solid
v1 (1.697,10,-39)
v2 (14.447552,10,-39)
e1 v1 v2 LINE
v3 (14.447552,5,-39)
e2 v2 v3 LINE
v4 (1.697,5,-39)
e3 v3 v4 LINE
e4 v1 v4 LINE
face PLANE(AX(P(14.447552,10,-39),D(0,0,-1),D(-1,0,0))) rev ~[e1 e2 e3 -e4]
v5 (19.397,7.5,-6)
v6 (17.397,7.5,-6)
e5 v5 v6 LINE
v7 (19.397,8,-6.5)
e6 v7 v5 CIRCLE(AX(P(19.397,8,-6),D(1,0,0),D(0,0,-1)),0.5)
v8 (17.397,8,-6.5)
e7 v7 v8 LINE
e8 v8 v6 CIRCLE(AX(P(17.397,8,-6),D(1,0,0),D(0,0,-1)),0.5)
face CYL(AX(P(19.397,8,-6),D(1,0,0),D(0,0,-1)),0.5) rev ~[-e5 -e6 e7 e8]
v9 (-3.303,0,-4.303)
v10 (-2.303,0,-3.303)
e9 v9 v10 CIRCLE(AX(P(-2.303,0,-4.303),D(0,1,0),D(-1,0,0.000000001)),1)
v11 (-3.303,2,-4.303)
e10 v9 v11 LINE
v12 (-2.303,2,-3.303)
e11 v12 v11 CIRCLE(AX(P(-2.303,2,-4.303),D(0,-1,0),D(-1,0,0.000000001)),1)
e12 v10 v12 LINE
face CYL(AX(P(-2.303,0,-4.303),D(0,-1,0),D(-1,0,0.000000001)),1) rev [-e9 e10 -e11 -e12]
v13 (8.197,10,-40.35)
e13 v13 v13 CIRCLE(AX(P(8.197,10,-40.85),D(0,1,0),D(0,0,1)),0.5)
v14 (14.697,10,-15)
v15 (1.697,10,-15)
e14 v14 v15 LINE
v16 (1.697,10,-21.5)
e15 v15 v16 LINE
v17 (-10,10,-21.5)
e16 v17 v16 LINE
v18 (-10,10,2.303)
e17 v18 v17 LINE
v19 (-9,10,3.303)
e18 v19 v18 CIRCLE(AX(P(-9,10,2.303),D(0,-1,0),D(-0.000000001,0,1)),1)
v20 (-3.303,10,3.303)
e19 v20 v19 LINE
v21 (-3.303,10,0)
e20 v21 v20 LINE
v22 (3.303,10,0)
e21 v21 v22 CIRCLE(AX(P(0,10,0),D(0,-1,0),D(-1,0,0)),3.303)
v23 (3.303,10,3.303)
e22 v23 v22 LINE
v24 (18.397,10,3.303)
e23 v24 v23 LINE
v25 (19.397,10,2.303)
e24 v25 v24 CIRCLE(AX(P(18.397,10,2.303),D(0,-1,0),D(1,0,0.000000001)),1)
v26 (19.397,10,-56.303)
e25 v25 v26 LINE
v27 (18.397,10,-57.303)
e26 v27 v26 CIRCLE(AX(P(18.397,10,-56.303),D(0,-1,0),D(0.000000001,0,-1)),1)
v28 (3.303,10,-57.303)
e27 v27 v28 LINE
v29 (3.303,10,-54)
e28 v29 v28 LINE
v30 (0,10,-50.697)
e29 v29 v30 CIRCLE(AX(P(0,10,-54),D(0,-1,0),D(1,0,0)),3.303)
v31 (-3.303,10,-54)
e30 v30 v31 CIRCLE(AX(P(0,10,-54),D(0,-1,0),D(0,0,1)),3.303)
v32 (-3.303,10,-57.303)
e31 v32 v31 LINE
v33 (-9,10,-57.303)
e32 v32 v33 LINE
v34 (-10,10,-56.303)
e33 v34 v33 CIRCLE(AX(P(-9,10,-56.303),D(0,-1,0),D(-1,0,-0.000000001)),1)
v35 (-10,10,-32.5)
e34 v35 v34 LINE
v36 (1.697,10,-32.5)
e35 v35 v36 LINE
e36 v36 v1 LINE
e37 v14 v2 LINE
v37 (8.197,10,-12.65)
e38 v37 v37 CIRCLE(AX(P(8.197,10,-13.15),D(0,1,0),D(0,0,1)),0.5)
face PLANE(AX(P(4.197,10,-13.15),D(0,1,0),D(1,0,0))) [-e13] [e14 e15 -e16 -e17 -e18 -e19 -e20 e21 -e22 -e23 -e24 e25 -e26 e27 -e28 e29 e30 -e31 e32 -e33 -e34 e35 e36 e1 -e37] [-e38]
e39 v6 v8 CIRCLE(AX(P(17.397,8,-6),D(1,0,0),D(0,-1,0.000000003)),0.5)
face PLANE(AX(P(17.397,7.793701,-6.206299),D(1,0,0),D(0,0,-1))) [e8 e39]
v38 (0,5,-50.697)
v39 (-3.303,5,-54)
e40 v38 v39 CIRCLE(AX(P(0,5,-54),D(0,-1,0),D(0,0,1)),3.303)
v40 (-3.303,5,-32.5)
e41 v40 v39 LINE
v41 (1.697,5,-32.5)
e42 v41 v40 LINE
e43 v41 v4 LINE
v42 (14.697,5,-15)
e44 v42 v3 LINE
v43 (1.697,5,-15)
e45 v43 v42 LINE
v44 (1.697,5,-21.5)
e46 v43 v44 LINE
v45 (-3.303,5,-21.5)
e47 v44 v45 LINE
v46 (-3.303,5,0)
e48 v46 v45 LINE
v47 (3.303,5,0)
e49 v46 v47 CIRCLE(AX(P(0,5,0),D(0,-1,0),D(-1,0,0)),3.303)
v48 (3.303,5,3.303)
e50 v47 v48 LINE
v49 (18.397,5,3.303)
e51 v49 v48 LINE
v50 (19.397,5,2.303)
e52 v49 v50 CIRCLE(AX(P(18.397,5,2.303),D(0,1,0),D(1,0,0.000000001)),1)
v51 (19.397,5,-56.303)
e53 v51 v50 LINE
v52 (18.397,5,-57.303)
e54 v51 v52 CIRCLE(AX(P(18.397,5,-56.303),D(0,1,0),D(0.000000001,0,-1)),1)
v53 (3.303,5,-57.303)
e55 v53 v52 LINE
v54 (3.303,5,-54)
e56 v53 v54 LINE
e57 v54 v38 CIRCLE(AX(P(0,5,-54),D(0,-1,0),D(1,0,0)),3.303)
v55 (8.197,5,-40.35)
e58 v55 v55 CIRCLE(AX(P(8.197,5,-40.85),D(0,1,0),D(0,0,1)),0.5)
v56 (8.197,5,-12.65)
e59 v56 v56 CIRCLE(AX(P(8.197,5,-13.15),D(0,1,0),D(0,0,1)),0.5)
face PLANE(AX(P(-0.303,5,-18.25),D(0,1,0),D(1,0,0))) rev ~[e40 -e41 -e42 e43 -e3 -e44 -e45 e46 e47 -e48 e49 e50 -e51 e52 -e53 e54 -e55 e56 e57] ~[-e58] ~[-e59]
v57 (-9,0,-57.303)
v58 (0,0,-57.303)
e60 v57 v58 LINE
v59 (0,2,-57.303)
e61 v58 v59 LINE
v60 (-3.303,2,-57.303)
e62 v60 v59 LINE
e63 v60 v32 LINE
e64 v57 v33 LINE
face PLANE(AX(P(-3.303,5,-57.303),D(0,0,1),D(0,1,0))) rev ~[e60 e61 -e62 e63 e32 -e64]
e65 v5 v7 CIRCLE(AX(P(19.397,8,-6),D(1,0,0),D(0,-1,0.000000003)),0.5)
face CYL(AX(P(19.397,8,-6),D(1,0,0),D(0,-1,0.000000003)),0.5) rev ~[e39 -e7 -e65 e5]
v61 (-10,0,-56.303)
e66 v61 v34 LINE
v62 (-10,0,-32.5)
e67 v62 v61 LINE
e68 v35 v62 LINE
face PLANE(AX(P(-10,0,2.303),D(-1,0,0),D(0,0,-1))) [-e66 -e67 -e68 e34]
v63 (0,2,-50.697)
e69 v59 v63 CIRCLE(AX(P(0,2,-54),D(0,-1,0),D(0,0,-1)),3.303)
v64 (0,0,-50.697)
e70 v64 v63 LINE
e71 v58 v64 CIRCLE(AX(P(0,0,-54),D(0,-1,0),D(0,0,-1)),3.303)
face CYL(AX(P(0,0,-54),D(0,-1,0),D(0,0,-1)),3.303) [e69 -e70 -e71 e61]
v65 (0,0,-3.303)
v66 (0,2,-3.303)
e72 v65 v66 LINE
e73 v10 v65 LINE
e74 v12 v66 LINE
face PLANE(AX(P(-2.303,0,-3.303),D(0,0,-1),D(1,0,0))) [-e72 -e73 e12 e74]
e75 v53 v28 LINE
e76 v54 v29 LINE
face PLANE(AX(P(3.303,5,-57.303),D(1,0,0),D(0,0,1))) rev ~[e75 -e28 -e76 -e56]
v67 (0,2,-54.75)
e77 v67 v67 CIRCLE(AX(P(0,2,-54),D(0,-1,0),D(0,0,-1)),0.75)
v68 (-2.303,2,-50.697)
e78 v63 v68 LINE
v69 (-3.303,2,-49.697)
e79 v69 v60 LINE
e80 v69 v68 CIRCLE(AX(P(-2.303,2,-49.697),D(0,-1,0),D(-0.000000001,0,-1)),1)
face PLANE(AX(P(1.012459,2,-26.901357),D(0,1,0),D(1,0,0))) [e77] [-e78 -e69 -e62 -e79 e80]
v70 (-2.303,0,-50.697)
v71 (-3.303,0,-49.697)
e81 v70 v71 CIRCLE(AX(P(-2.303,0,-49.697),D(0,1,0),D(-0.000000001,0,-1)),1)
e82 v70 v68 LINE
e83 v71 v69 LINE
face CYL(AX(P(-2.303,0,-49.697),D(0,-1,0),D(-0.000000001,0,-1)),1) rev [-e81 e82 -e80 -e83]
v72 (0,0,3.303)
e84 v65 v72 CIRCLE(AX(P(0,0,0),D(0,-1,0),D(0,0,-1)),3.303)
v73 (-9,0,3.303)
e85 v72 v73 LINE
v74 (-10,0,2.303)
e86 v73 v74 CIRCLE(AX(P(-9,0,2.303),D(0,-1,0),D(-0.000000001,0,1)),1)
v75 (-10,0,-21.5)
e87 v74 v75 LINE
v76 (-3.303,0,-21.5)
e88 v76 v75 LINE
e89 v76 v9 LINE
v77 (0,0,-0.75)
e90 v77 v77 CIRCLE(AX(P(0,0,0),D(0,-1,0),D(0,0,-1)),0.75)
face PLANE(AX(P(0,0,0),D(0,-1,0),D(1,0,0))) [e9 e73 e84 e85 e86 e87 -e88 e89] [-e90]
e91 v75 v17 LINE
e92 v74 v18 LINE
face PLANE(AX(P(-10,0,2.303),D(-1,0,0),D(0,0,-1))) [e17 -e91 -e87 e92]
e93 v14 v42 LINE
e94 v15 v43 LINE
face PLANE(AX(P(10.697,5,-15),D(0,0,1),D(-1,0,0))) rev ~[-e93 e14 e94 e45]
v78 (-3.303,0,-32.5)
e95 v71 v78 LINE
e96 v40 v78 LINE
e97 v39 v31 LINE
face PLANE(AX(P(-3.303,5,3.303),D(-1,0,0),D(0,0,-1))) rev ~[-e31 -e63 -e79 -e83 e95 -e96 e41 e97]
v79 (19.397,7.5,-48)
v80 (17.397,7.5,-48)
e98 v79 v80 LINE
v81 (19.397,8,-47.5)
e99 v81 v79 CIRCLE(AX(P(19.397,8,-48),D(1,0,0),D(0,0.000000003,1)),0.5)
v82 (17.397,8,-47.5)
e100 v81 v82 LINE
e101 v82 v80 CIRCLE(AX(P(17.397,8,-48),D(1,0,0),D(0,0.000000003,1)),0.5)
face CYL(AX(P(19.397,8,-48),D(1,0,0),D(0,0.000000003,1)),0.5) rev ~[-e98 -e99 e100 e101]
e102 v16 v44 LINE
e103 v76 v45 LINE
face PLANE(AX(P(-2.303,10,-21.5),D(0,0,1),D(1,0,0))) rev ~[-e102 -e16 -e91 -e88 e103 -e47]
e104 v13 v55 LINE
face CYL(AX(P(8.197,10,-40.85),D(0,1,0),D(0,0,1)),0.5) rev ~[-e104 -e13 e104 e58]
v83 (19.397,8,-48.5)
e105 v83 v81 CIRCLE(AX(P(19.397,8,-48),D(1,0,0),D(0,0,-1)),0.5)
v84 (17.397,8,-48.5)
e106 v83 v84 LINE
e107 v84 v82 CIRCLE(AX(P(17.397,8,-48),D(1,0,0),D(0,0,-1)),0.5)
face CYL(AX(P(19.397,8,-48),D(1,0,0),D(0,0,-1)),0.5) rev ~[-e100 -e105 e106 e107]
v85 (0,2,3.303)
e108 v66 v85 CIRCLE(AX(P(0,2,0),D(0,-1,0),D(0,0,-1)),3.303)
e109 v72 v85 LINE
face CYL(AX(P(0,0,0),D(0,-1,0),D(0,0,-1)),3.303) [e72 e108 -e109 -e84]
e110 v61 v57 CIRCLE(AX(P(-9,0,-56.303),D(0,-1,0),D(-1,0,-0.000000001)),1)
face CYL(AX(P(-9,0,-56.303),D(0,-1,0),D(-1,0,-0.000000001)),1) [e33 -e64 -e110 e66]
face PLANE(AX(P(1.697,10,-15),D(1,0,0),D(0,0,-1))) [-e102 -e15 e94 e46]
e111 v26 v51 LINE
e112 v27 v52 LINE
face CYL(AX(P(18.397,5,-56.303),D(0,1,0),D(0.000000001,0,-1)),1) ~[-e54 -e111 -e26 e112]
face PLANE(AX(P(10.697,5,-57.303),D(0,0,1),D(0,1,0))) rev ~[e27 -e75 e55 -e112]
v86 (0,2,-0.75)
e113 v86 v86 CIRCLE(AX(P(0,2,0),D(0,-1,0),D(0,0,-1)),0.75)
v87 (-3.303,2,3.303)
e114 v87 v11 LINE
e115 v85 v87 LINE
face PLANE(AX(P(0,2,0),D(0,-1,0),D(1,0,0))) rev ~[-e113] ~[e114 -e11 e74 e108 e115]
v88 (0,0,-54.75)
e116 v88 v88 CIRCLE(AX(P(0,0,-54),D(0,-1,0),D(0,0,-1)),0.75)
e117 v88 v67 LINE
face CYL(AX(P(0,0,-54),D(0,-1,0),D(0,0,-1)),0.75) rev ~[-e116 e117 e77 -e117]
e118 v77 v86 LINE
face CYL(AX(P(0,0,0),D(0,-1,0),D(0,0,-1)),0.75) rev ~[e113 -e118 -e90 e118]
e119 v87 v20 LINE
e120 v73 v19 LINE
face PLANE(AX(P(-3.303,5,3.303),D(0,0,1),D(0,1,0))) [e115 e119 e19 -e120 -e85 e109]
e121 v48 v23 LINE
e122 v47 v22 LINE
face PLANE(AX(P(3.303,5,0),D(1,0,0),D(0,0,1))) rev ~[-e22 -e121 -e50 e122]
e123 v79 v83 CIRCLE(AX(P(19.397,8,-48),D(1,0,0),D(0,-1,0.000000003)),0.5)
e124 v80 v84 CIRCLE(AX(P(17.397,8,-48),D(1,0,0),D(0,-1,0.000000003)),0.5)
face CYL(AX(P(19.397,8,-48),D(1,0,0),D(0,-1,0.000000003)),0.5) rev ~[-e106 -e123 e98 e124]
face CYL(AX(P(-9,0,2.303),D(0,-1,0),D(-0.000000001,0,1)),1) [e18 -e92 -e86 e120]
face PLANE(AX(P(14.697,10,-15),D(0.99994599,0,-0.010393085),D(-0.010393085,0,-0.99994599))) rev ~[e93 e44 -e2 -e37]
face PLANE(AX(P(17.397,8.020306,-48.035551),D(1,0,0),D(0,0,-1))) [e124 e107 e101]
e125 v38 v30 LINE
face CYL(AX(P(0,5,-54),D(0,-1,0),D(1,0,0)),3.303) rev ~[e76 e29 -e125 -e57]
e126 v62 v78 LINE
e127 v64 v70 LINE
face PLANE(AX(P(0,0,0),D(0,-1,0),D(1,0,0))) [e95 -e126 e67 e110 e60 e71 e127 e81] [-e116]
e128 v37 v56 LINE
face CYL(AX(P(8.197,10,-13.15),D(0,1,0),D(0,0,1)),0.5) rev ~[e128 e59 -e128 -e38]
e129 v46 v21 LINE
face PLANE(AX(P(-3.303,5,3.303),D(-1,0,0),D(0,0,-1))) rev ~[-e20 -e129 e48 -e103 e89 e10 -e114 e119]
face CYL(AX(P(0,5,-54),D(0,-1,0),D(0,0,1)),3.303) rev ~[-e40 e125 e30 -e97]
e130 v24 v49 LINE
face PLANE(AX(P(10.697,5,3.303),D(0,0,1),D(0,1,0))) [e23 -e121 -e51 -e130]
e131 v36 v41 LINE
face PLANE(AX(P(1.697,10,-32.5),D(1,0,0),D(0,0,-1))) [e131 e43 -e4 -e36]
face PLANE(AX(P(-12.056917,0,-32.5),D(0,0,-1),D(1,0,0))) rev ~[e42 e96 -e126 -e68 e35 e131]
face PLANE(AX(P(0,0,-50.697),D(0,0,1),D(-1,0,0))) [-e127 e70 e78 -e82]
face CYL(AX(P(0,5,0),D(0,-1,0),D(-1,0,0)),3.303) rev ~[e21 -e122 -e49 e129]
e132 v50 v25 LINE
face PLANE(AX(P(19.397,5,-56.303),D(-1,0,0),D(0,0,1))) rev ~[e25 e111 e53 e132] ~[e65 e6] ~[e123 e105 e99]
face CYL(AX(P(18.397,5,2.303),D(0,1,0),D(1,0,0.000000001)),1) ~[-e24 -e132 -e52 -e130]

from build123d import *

# Parameters (mm, degrees)
SKETCH_1_R           = 1.5
EXTRUDE_1_DEPTH      = 10
SKETCH_2_W           = 8.63091869
SKETCH_2_H           = 65.296694921
CUT_EXTRUDE_1_DEPTH  = 8
SKETCH_3_W           = 60.606
SKETCH_3_H           = 5
EXTRUDE_2_DEPTH      = 15
CUT_EXTRUDE_2_DEPTH  = 15
CUT_EXTRUDE_3_DEPTH  = 15
SKETCH_7_W           = 6.5
SKETCH_7_H           = 12
CUT_EXTRUDE_4_DEPTH  = 15
EXTRUDE_3_DEPTH      = 7.7
EXTRUDE_3_DEPTH_BACK = 1
SKETCH_8_W           = 60.606
SKETCH_8_H           = 5
CUT_EXTRUDE_5_DEPTH  = 7.7
EXTRUDE_4_DEPTH      = 16
SKETCH_13_R          = 1.5
CUT_EXTRUDE_6_DEPTH  = 10.5
CUT_EXTRUDE_7_DEPTH  = 2
SKETCH_17_W          = 16.187708769
SKETCH_17_H          = 64.99365071
CUT_EXTRUDE_8_DEPTH  = 16
SKETCH_18_R          = 1.5
SKETCH_18_R_2        = 0.5
EXTRUDE_5_DEPTH      = 5
SKETCH_19_R          = 1.5
SKETCH_19_R_2        = 0.75
EXTRUDE_6_DEPTH      = 2
SKETCH_20_W          = 6.697
SKETCH_20_H          = 11
SKETCH_20_W_2        = 2.056917385
CUT_EXTRUDE_9_DEPTH  = 15
CUT_EXTRUDE_10_DEPTH = 10
SKETCH_22_W          = 4
SKETCH_22_H          = 6.5
EXTRUDE_7_DEPTH      = 5
SKETCH_23_R          = 0.5
CUT_EXTRUDE_11_DEPTH = 5
SKETCH_24_R          = 0.5
EXTRUDE_8_DEPTH      = 5


with BuildPart() as part:
    # 草图1 → 凸台-拉伸1 (new body)
    with BuildSketch(Plane(origin=(0, 0, 0), x_dir=(1, 0, 0), z_dir=(0, 1, 0))):
        with BuildLine():
            Line((0, 50.697), (-2.303, 50.697))
            ThreePointArc((-2.303, 50.697), (-3.010106781, 50.404106781), (-3.303, 49.697))
            Line((-3.303, 49.697), (-3.303, 4.303))
            ThreePointArc((-3.303, 4.303), (-3.010106781, 3.595893219), (-2.303, 3.303))
            Line((-2.303, 3.303), (0, 3.303))
            ThreePointArc((0, 3.303), (3.303, 0), (0, -3.303))
            Line((0, -3.303), (-9, -3.303))
            ThreePointArc((-9, -3.303), (-9.707106781, -3.010106781), (-10, -2.303))
            Line((-10, -2.303), (-10, 56.303))
            ThreePointArc((-10, 56.303), (-9.707106781, 57.010106781), (-9, 57.303))
            Line((-9, 57.303), (0, 57.303))
            ThreePointArc((0, 57.303), (3.303, 54), (0, 50.697))
        make_face()
        with Locations(Location((0, 0, 0), (0, 0, 270))):
            Circle(SKETCH_1_R, mode=Mode.SUBTRACT)
        with Locations(Location((0, 54, 0), (0, 0, 270))):
            Circle(SKETCH_1_R, mode=Mode.SUBTRACT)
    extrude(amount=EXTRUDE_1_DEPTH)

    # 草图2 → 切除-拉伸1 (cut)
    with BuildSketch(Plane(origin=(0, 10, 0), x_dir=(1, 0, 0), z_dir=(0, 1, 0))):
        with Locations((1.012459345, 26.901356544)):
            Rectangle(SKETCH_2_W, SKETCH_2_H)
    extrude(amount=-CUT_EXTRUDE_1_DEPTH, mode=Mode.SUBTRACT)

    # 草图3 → 凸台-拉伸2 (add)
    with BuildSketch(Plane(origin=(-3.303, 0, 0), x_dir=(0, 0, -1), z_dir=(1, 0, 0))):
        with Locations((27, 7.5)):
            Rectangle(SKETCH_3_W, SKETCH_3_H)
    extrude(amount=EXTRUDE_2_DEPTH)

    # 草图4 → 切除-拉伸2 (cut)
    with BuildSketch(Plane(origin=(0, 10, 0), x_dir=(1, 0, 0), z_dir=(0, 1, 0))):
        with BuildLine():
            ThreePointArc((10.697, 57.303), (11.404106781, 57.010106781), (11.697, 56.303))
            Line((11.697, 56.303), (11.697, 57.303))
            Line((11.697, 57.303), (10.697, 57.303))
        make_face()
        with BuildLine():
            ThreePointArc((11.697, -2.303), (11.404106781, -3.010106781), (10.697, -3.303))
            Line((10.697, -3.303), (11.697, -3.303))
            Line((11.697, -3.303), (11.697, -2.303))
        make_face()
    extrude(amount=-CUT_EXTRUDE_2_DEPTH, mode=Mode.SUBTRACT)

    # 草图5 → 切除-拉伸3 (cut)
    with BuildSketch(Plane.XZ.offset(-5)):
        with BuildLine():
            Line((-3.303, 3.303), (-3.303, 0))
            ThreePointArc((-3.303, 0), (0, -3.303), (3.303, 0))
            ThreePointArc((3.303, 0), (2.335573698, 2.335573698), (0, 3.303))
            Line((0, 3.303), (-3.303, 3.303))
        make_face()
        with BuildLine():
            ThreePointArc((0, 3.303), (2.335573698, 2.335573698), (3.303, 0))
            Line((3.303, 0), (3.303, 3.303))
            Line((3.303, 3.303), (0, 3.303))
        make_face()
        with BuildLine():
            ThreePointArc((0, -50.697), (-2.335573698, -51.664426302), (-3.303, -54))
            Line((-3.303, -54), (-3.303, -57.303))
            Line((-3.303, -57.303), (0, -57.303))
            ThreePointArc((0, -57.303), (2.335573698, -56.335573698), (3.303, -54))
            ThreePointArc((3.303, -54), (2.335573698, -51.664426302), (0, -50.697))
        make_face()
        with BuildLine():
            ThreePointArc((3.303, -54), (2.335573698, -56.335573698), (0, -57.303))
            Line((0, -57.303), (3.303, -57.303))
            Line((3.303, -57.303), (3.303, -54))
        make_face()
    extrude(amount=-CUT_EXTRUDE_3_DEPTH, mode=Mode.SUBTRACT)

    # 草图7 → 切除-拉伸4 (cut)
    with BuildSketch(Plane(origin=(0, 5, 0), x_dir=(-1, 0, 0), z_dir=(0, -1, 0))):
        with Locations((-0.947, 33)):
            Rectangle(SKETCH_7_W, SKETCH_7_H)
        Polygon((-4.197, 27), (-4.197, 39), (-10.697, 39), (-10.697, 15), (2.303, 15), (2.303, 27), align=None)
    extrude(amount=-CUT_EXTRUDE_4_DEPTH, mode=Mode.SUBTRACT)

    # 草图8 → 凸台-拉伸3 (add, two sides: drawn at the far end of the back side and taken through both)
    with BuildSketch(Plane(origin=(11.697, 0, 0), x_dir=(0, 0, -1), z_dir=(1, 0, 0)).offset(-EXTRUDE_3_DEPTH_BACK)):
        with Locations((27, 7.5)):
            Rectangle(SKETCH_8_W, SKETCH_8_H)
    extrude(amount=EXTRUDE_3_DEPTH + EXTRUDE_3_DEPTH_BACK)

    # 草图10 → 切除-拉伸5 (cut)
    with BuildSketch(Plane(origin=(0, 10, 0), x_dir=(1, 0, 0), z_dir=(0, 1, 0))):
        with BuildLine():
            ThreePointArc((18.397, 57.303), (19.104106781, 57.010106781), (19.397, 56.303))
            Line((19.397, 56.303), (19.397, 57.303))
            Line((19.397, 57.303), (18.397, 57.303))
        make_face()
        with BuildLine():
            ThreePointArc((19.397, -2.303), (19.104106781, -3.010106781), (18.397, -3.303))
            Line((18.397, -3.303), (19.397, -3.303))
            Line((19.397, -3.303), (19.397, -2.303))
        make_face()
    extrude(amount=-CUT_EXTRUDE_5_DEPTH, mode=Mode.SUBTRACT)

    # 草图12 → 凸台-拉伸4 (add)
    with BuildSketch(Plane.XZ.offset(-5)):
        with BuildLine():
            Line((17.397, 2.303), (17.397, -56.303))
            ThreePointArc((17.397, -56.303), (17.689893219, -57.010106781), (18.397, -57.303))
            ThreePointArc((18.397, -57.303), (19.104106781, -57.010106781), (19.397, -56.303))
            Line((19.397, -56.303), (19.397, 2.303))
            ThreePointArc((19.397, 2.303), (19.104106781, 3.010106781), (18.397, 3.303))
            ThreePointArc((18.397, 3.303), (17.689893219, 3.010106781), (17.397, 2.303))
        make_face()
    extrude(amount=EXTRUDE_4_DEPTH)

    # 草图13 → 切除-拉伸6 (cut)
    with BuildSketch(Plane(origin=(0, 10, 0), x_dir=(1, 0, 0), z_dir=(0, 1, 0))):
        with Locations(Location((4.197, 13.15, 0), (0, 0, 270))):
            Circle(SKETCH_13_R)
        with Locations(Location((4.197, 40.85, 0), (0, 0, 270))):
            Circle(SKETCH_13_R)
    extrude(amount=-CUT_EXTRUDE_6_DEPTH, mode=Mode.SUBTRACT)

    # 草图16 → 切除-拉伸7 (cut)
    with BuildSketch(Plane(origin=(19.397, 0, 0), x_dir=(0, 0, -1), z_dir=(1, 0, 0))):
        with BuildLine():
            ThreePointArc((6, 7.5), (6.353553391, 7.646446609), (6.5, 8))
            Line((6.5, 8), (6, 8))
            Line((6, 8), (6, 7.5))
        make_face()
        with BuildLine():
            Line((6, 8), (6.5, 8))
            ThreePointArc((6.5, 8), (5.646446609, 8.353553391), (6, 7.5))
            Line((6, 7.5), (6, 8))
        make_face()
        with BuildLine():
            ThreePointArc((6, -8.5), (5.646446609, -9.353553391), (6.5, -9))
            Line((6.5, -9), (6, -9))
            Line((6, -9), (6, -8.5))
        make_face()
        with BuildLine():
            Line((6, -9), (6.5, -9))
            ThreePointArc((6.5, -9), (6.353553391, -8.646446609), (6, -8.5))
            Line((6, -8.5), (6, -9))
        make_face()
        with BuildLine():
            ThreePointArc((48, -8.5), (47.646446609, -8.646446609), (47.5, -9))
            Line((47.5, -9), (48, -9))
            Line((48, -9), (48, -8.5))
        make_face()
        with BuildLine():
            Line((48, -9), (47.5, -9))
            ThreePointArc((47.5, -9), (48, -9.5), (48.5, -9))
            ThreePointArc((48.5, -9), (48.353553391, -8.646446609), (48, -8.5))
            Line((48, -8.5), (48, -9))
        make_face()
        with BuildLine():
            ThreePointArc((48.5, 8), (48, 8.5), (47.5, 8))
            Line((47.5, 8), (48, 8))
            Line((48, 8), (48, 7.5))
            ThreePointArc((48, 7.5), (48.353553391, 7.646446609), (48.5, 8))
        make_face()
        with BuildLine():
            Line((48, 8), (47.5, 8))
            ThreePointArc((47.5, 8), (47.646446609, 7.646446609), (48, 7.5))
            Line((48, 7.5), (48, 8))
        make_face()
    extrude(amount=-CUT_EXTRUDE_7_DEPTH, mode=Mode.SUBTRACT)

    # 草图17 → 切除-拉伸8 (cut)
    with BuildSketch(Plane.XZ.offset(11)):
        with Locations((22.196549454, -27.767960921)):
            Rectangle(SKETCH_17_W, SKETCH_17_H)
    extrude(amount=-CUT_EXTRUDE_8_DEPTH, mode=Mode.SUBTRACT)

    # 草图18 → 凸台-拉伸5 (add)
    # profile 1 of 2: a face of its own
    with BuildSketch(Plane(origin=(0, 10, 0), x_dir=(1, 0, 0), z_dir=(0, 1, 0))):
        with Locations((4.197, 13.15)):
            Circle(SKETCH_18_R)
        with Locations(Location((4.197, 13.15, 0), (0, 0, 270))):
            Circle(SKETCH_18_R_2, mode=Mode.SUBTRACT)
    # profile 2 of 2: a face of its own
    with BuildSketch(Plane(origin=(0, 10, 0), x_dir=(1, 0, 0), z_dir=(0, 1, 0))):
        with Locations((4.197, 40.85)):
            Circle(SKETCH_18_R)
        with Locations(Location((4.197, 40.85, 0), (0, 0, 270))):
            Circle(SKETCH_18_R_2, mode=Mode.SUBTRACT)
    extrude(amount=-EXTRUDE_5_DEPTH)

    # 草图19 → 凸台-拉伸6 (add)
    # profile 1 of 2: a face of its own
    with BuildSketch(Plane.XZ):
        Circle(SKETCH_19_R)
        with Locations(Location((0, 0, 0), (0, 0, 270))):
            Circle(SKETCH_19_R_2, mode=Mode.SUBTRACT)
    # profile 2 of 2: a face of its own
    with BuildSketch(Plane.XZ):
        with Locations((0, -54)):
            Circle(SKETCH_19_R)
        with Locations(Location((0, -54, 0), (0, 0, 270))):
            Circle(SKETCH_19_R_2, mode=Mode.SUBTRACT)
    extrude(amount=-EXTRUDE_6_DEPTH)

    # 草图20 → 切除-拉伸9 (cut)
    with BuildSketch(Plane(origin=(0, 0, 0), x_dir=(-1, 0, 0), z_dir=(0, -1, 0))):
        with Locations((6.6515, 27)):
            Rectangle(SKETCH_20_W, SKETCH_20_H)
        Polygon((3.303, 32.5), (0, 32.5), (0, 27), (0, 21.5), (3.303, 21.5), align=None)
        with Locations((11.028458692, 27)):
            Rectangle(SKETCH_20_W_2, SKETCH_20_H)
    extrude(amount=-CUT_EXTRUDE_9_DEPTH, mode=Mode.SUBTRACT)

    # 草图21 → 切除-拉伸10 (cut)
    with BuildSketch(Plane(origin=(0, 10, 0), x_dir=(1, 0, 0), z_dir=(0, 1, 0))):
        Polygon((10.697, 15), (14.697, 15), (14.447552493, 39), (10.697, 39), align=None)
    extrude(amount=-CUT_EXTRUDE_10_DEPTH, mode=Mode.SUBTRACT)

    # 草图22 → 凸台-拉伸7 (add)
    with BuildSketch(Plane(origin=(0, 10, 0), x_dir=(1, 0, 0), z_dir=(0, 1, 0))):
        with Locations((-0.303, 18.25)):
            Rectangle(SKETCH_22_W, SKETCH_22_H)
        with Locations((-0.303, 35.75)):
            Rectangle(SKETCH_22_W, SKETCH_22_H)
    extrude(amount=-EXTRUDE_7_DEPTH)

    # 草图23 → 切除-拉伸11 (cut)
    with BuildSketch(Plane(origin=(0, 10, 0), x_dir=(1, 0, 0), z_dir=(0, 1, 0))):
        with Locations(Location((8.197, 13.15, 0), (0, 0, 270))):
            Circle(SKETCH_23_R)
        with Locations(Location((8.197, 40.85, 0), (0, 0, 270))):
            Circle(SKETCH_23_R)
    extrude(amount=-CUT_EXTRUDE_11_DEPTH, mode=Mode.SUBTRACT)

    # 草图24 → 凸台-拉伸8 (add)
    with BuildSketch(Plane(origin=(0, 10, 0), x_dir=(1, 0, 0), z_dir=(0, 1, 0))):
        with Locations((4.197, 13.15)):
            Circle(SKETCH_24_R)
        with Locations((4.197, 40.85)):
            Circle(SKETCH_24_R)
    extrude(amount=-EXTRUDE_8_DEPTH)


solid = part.part
